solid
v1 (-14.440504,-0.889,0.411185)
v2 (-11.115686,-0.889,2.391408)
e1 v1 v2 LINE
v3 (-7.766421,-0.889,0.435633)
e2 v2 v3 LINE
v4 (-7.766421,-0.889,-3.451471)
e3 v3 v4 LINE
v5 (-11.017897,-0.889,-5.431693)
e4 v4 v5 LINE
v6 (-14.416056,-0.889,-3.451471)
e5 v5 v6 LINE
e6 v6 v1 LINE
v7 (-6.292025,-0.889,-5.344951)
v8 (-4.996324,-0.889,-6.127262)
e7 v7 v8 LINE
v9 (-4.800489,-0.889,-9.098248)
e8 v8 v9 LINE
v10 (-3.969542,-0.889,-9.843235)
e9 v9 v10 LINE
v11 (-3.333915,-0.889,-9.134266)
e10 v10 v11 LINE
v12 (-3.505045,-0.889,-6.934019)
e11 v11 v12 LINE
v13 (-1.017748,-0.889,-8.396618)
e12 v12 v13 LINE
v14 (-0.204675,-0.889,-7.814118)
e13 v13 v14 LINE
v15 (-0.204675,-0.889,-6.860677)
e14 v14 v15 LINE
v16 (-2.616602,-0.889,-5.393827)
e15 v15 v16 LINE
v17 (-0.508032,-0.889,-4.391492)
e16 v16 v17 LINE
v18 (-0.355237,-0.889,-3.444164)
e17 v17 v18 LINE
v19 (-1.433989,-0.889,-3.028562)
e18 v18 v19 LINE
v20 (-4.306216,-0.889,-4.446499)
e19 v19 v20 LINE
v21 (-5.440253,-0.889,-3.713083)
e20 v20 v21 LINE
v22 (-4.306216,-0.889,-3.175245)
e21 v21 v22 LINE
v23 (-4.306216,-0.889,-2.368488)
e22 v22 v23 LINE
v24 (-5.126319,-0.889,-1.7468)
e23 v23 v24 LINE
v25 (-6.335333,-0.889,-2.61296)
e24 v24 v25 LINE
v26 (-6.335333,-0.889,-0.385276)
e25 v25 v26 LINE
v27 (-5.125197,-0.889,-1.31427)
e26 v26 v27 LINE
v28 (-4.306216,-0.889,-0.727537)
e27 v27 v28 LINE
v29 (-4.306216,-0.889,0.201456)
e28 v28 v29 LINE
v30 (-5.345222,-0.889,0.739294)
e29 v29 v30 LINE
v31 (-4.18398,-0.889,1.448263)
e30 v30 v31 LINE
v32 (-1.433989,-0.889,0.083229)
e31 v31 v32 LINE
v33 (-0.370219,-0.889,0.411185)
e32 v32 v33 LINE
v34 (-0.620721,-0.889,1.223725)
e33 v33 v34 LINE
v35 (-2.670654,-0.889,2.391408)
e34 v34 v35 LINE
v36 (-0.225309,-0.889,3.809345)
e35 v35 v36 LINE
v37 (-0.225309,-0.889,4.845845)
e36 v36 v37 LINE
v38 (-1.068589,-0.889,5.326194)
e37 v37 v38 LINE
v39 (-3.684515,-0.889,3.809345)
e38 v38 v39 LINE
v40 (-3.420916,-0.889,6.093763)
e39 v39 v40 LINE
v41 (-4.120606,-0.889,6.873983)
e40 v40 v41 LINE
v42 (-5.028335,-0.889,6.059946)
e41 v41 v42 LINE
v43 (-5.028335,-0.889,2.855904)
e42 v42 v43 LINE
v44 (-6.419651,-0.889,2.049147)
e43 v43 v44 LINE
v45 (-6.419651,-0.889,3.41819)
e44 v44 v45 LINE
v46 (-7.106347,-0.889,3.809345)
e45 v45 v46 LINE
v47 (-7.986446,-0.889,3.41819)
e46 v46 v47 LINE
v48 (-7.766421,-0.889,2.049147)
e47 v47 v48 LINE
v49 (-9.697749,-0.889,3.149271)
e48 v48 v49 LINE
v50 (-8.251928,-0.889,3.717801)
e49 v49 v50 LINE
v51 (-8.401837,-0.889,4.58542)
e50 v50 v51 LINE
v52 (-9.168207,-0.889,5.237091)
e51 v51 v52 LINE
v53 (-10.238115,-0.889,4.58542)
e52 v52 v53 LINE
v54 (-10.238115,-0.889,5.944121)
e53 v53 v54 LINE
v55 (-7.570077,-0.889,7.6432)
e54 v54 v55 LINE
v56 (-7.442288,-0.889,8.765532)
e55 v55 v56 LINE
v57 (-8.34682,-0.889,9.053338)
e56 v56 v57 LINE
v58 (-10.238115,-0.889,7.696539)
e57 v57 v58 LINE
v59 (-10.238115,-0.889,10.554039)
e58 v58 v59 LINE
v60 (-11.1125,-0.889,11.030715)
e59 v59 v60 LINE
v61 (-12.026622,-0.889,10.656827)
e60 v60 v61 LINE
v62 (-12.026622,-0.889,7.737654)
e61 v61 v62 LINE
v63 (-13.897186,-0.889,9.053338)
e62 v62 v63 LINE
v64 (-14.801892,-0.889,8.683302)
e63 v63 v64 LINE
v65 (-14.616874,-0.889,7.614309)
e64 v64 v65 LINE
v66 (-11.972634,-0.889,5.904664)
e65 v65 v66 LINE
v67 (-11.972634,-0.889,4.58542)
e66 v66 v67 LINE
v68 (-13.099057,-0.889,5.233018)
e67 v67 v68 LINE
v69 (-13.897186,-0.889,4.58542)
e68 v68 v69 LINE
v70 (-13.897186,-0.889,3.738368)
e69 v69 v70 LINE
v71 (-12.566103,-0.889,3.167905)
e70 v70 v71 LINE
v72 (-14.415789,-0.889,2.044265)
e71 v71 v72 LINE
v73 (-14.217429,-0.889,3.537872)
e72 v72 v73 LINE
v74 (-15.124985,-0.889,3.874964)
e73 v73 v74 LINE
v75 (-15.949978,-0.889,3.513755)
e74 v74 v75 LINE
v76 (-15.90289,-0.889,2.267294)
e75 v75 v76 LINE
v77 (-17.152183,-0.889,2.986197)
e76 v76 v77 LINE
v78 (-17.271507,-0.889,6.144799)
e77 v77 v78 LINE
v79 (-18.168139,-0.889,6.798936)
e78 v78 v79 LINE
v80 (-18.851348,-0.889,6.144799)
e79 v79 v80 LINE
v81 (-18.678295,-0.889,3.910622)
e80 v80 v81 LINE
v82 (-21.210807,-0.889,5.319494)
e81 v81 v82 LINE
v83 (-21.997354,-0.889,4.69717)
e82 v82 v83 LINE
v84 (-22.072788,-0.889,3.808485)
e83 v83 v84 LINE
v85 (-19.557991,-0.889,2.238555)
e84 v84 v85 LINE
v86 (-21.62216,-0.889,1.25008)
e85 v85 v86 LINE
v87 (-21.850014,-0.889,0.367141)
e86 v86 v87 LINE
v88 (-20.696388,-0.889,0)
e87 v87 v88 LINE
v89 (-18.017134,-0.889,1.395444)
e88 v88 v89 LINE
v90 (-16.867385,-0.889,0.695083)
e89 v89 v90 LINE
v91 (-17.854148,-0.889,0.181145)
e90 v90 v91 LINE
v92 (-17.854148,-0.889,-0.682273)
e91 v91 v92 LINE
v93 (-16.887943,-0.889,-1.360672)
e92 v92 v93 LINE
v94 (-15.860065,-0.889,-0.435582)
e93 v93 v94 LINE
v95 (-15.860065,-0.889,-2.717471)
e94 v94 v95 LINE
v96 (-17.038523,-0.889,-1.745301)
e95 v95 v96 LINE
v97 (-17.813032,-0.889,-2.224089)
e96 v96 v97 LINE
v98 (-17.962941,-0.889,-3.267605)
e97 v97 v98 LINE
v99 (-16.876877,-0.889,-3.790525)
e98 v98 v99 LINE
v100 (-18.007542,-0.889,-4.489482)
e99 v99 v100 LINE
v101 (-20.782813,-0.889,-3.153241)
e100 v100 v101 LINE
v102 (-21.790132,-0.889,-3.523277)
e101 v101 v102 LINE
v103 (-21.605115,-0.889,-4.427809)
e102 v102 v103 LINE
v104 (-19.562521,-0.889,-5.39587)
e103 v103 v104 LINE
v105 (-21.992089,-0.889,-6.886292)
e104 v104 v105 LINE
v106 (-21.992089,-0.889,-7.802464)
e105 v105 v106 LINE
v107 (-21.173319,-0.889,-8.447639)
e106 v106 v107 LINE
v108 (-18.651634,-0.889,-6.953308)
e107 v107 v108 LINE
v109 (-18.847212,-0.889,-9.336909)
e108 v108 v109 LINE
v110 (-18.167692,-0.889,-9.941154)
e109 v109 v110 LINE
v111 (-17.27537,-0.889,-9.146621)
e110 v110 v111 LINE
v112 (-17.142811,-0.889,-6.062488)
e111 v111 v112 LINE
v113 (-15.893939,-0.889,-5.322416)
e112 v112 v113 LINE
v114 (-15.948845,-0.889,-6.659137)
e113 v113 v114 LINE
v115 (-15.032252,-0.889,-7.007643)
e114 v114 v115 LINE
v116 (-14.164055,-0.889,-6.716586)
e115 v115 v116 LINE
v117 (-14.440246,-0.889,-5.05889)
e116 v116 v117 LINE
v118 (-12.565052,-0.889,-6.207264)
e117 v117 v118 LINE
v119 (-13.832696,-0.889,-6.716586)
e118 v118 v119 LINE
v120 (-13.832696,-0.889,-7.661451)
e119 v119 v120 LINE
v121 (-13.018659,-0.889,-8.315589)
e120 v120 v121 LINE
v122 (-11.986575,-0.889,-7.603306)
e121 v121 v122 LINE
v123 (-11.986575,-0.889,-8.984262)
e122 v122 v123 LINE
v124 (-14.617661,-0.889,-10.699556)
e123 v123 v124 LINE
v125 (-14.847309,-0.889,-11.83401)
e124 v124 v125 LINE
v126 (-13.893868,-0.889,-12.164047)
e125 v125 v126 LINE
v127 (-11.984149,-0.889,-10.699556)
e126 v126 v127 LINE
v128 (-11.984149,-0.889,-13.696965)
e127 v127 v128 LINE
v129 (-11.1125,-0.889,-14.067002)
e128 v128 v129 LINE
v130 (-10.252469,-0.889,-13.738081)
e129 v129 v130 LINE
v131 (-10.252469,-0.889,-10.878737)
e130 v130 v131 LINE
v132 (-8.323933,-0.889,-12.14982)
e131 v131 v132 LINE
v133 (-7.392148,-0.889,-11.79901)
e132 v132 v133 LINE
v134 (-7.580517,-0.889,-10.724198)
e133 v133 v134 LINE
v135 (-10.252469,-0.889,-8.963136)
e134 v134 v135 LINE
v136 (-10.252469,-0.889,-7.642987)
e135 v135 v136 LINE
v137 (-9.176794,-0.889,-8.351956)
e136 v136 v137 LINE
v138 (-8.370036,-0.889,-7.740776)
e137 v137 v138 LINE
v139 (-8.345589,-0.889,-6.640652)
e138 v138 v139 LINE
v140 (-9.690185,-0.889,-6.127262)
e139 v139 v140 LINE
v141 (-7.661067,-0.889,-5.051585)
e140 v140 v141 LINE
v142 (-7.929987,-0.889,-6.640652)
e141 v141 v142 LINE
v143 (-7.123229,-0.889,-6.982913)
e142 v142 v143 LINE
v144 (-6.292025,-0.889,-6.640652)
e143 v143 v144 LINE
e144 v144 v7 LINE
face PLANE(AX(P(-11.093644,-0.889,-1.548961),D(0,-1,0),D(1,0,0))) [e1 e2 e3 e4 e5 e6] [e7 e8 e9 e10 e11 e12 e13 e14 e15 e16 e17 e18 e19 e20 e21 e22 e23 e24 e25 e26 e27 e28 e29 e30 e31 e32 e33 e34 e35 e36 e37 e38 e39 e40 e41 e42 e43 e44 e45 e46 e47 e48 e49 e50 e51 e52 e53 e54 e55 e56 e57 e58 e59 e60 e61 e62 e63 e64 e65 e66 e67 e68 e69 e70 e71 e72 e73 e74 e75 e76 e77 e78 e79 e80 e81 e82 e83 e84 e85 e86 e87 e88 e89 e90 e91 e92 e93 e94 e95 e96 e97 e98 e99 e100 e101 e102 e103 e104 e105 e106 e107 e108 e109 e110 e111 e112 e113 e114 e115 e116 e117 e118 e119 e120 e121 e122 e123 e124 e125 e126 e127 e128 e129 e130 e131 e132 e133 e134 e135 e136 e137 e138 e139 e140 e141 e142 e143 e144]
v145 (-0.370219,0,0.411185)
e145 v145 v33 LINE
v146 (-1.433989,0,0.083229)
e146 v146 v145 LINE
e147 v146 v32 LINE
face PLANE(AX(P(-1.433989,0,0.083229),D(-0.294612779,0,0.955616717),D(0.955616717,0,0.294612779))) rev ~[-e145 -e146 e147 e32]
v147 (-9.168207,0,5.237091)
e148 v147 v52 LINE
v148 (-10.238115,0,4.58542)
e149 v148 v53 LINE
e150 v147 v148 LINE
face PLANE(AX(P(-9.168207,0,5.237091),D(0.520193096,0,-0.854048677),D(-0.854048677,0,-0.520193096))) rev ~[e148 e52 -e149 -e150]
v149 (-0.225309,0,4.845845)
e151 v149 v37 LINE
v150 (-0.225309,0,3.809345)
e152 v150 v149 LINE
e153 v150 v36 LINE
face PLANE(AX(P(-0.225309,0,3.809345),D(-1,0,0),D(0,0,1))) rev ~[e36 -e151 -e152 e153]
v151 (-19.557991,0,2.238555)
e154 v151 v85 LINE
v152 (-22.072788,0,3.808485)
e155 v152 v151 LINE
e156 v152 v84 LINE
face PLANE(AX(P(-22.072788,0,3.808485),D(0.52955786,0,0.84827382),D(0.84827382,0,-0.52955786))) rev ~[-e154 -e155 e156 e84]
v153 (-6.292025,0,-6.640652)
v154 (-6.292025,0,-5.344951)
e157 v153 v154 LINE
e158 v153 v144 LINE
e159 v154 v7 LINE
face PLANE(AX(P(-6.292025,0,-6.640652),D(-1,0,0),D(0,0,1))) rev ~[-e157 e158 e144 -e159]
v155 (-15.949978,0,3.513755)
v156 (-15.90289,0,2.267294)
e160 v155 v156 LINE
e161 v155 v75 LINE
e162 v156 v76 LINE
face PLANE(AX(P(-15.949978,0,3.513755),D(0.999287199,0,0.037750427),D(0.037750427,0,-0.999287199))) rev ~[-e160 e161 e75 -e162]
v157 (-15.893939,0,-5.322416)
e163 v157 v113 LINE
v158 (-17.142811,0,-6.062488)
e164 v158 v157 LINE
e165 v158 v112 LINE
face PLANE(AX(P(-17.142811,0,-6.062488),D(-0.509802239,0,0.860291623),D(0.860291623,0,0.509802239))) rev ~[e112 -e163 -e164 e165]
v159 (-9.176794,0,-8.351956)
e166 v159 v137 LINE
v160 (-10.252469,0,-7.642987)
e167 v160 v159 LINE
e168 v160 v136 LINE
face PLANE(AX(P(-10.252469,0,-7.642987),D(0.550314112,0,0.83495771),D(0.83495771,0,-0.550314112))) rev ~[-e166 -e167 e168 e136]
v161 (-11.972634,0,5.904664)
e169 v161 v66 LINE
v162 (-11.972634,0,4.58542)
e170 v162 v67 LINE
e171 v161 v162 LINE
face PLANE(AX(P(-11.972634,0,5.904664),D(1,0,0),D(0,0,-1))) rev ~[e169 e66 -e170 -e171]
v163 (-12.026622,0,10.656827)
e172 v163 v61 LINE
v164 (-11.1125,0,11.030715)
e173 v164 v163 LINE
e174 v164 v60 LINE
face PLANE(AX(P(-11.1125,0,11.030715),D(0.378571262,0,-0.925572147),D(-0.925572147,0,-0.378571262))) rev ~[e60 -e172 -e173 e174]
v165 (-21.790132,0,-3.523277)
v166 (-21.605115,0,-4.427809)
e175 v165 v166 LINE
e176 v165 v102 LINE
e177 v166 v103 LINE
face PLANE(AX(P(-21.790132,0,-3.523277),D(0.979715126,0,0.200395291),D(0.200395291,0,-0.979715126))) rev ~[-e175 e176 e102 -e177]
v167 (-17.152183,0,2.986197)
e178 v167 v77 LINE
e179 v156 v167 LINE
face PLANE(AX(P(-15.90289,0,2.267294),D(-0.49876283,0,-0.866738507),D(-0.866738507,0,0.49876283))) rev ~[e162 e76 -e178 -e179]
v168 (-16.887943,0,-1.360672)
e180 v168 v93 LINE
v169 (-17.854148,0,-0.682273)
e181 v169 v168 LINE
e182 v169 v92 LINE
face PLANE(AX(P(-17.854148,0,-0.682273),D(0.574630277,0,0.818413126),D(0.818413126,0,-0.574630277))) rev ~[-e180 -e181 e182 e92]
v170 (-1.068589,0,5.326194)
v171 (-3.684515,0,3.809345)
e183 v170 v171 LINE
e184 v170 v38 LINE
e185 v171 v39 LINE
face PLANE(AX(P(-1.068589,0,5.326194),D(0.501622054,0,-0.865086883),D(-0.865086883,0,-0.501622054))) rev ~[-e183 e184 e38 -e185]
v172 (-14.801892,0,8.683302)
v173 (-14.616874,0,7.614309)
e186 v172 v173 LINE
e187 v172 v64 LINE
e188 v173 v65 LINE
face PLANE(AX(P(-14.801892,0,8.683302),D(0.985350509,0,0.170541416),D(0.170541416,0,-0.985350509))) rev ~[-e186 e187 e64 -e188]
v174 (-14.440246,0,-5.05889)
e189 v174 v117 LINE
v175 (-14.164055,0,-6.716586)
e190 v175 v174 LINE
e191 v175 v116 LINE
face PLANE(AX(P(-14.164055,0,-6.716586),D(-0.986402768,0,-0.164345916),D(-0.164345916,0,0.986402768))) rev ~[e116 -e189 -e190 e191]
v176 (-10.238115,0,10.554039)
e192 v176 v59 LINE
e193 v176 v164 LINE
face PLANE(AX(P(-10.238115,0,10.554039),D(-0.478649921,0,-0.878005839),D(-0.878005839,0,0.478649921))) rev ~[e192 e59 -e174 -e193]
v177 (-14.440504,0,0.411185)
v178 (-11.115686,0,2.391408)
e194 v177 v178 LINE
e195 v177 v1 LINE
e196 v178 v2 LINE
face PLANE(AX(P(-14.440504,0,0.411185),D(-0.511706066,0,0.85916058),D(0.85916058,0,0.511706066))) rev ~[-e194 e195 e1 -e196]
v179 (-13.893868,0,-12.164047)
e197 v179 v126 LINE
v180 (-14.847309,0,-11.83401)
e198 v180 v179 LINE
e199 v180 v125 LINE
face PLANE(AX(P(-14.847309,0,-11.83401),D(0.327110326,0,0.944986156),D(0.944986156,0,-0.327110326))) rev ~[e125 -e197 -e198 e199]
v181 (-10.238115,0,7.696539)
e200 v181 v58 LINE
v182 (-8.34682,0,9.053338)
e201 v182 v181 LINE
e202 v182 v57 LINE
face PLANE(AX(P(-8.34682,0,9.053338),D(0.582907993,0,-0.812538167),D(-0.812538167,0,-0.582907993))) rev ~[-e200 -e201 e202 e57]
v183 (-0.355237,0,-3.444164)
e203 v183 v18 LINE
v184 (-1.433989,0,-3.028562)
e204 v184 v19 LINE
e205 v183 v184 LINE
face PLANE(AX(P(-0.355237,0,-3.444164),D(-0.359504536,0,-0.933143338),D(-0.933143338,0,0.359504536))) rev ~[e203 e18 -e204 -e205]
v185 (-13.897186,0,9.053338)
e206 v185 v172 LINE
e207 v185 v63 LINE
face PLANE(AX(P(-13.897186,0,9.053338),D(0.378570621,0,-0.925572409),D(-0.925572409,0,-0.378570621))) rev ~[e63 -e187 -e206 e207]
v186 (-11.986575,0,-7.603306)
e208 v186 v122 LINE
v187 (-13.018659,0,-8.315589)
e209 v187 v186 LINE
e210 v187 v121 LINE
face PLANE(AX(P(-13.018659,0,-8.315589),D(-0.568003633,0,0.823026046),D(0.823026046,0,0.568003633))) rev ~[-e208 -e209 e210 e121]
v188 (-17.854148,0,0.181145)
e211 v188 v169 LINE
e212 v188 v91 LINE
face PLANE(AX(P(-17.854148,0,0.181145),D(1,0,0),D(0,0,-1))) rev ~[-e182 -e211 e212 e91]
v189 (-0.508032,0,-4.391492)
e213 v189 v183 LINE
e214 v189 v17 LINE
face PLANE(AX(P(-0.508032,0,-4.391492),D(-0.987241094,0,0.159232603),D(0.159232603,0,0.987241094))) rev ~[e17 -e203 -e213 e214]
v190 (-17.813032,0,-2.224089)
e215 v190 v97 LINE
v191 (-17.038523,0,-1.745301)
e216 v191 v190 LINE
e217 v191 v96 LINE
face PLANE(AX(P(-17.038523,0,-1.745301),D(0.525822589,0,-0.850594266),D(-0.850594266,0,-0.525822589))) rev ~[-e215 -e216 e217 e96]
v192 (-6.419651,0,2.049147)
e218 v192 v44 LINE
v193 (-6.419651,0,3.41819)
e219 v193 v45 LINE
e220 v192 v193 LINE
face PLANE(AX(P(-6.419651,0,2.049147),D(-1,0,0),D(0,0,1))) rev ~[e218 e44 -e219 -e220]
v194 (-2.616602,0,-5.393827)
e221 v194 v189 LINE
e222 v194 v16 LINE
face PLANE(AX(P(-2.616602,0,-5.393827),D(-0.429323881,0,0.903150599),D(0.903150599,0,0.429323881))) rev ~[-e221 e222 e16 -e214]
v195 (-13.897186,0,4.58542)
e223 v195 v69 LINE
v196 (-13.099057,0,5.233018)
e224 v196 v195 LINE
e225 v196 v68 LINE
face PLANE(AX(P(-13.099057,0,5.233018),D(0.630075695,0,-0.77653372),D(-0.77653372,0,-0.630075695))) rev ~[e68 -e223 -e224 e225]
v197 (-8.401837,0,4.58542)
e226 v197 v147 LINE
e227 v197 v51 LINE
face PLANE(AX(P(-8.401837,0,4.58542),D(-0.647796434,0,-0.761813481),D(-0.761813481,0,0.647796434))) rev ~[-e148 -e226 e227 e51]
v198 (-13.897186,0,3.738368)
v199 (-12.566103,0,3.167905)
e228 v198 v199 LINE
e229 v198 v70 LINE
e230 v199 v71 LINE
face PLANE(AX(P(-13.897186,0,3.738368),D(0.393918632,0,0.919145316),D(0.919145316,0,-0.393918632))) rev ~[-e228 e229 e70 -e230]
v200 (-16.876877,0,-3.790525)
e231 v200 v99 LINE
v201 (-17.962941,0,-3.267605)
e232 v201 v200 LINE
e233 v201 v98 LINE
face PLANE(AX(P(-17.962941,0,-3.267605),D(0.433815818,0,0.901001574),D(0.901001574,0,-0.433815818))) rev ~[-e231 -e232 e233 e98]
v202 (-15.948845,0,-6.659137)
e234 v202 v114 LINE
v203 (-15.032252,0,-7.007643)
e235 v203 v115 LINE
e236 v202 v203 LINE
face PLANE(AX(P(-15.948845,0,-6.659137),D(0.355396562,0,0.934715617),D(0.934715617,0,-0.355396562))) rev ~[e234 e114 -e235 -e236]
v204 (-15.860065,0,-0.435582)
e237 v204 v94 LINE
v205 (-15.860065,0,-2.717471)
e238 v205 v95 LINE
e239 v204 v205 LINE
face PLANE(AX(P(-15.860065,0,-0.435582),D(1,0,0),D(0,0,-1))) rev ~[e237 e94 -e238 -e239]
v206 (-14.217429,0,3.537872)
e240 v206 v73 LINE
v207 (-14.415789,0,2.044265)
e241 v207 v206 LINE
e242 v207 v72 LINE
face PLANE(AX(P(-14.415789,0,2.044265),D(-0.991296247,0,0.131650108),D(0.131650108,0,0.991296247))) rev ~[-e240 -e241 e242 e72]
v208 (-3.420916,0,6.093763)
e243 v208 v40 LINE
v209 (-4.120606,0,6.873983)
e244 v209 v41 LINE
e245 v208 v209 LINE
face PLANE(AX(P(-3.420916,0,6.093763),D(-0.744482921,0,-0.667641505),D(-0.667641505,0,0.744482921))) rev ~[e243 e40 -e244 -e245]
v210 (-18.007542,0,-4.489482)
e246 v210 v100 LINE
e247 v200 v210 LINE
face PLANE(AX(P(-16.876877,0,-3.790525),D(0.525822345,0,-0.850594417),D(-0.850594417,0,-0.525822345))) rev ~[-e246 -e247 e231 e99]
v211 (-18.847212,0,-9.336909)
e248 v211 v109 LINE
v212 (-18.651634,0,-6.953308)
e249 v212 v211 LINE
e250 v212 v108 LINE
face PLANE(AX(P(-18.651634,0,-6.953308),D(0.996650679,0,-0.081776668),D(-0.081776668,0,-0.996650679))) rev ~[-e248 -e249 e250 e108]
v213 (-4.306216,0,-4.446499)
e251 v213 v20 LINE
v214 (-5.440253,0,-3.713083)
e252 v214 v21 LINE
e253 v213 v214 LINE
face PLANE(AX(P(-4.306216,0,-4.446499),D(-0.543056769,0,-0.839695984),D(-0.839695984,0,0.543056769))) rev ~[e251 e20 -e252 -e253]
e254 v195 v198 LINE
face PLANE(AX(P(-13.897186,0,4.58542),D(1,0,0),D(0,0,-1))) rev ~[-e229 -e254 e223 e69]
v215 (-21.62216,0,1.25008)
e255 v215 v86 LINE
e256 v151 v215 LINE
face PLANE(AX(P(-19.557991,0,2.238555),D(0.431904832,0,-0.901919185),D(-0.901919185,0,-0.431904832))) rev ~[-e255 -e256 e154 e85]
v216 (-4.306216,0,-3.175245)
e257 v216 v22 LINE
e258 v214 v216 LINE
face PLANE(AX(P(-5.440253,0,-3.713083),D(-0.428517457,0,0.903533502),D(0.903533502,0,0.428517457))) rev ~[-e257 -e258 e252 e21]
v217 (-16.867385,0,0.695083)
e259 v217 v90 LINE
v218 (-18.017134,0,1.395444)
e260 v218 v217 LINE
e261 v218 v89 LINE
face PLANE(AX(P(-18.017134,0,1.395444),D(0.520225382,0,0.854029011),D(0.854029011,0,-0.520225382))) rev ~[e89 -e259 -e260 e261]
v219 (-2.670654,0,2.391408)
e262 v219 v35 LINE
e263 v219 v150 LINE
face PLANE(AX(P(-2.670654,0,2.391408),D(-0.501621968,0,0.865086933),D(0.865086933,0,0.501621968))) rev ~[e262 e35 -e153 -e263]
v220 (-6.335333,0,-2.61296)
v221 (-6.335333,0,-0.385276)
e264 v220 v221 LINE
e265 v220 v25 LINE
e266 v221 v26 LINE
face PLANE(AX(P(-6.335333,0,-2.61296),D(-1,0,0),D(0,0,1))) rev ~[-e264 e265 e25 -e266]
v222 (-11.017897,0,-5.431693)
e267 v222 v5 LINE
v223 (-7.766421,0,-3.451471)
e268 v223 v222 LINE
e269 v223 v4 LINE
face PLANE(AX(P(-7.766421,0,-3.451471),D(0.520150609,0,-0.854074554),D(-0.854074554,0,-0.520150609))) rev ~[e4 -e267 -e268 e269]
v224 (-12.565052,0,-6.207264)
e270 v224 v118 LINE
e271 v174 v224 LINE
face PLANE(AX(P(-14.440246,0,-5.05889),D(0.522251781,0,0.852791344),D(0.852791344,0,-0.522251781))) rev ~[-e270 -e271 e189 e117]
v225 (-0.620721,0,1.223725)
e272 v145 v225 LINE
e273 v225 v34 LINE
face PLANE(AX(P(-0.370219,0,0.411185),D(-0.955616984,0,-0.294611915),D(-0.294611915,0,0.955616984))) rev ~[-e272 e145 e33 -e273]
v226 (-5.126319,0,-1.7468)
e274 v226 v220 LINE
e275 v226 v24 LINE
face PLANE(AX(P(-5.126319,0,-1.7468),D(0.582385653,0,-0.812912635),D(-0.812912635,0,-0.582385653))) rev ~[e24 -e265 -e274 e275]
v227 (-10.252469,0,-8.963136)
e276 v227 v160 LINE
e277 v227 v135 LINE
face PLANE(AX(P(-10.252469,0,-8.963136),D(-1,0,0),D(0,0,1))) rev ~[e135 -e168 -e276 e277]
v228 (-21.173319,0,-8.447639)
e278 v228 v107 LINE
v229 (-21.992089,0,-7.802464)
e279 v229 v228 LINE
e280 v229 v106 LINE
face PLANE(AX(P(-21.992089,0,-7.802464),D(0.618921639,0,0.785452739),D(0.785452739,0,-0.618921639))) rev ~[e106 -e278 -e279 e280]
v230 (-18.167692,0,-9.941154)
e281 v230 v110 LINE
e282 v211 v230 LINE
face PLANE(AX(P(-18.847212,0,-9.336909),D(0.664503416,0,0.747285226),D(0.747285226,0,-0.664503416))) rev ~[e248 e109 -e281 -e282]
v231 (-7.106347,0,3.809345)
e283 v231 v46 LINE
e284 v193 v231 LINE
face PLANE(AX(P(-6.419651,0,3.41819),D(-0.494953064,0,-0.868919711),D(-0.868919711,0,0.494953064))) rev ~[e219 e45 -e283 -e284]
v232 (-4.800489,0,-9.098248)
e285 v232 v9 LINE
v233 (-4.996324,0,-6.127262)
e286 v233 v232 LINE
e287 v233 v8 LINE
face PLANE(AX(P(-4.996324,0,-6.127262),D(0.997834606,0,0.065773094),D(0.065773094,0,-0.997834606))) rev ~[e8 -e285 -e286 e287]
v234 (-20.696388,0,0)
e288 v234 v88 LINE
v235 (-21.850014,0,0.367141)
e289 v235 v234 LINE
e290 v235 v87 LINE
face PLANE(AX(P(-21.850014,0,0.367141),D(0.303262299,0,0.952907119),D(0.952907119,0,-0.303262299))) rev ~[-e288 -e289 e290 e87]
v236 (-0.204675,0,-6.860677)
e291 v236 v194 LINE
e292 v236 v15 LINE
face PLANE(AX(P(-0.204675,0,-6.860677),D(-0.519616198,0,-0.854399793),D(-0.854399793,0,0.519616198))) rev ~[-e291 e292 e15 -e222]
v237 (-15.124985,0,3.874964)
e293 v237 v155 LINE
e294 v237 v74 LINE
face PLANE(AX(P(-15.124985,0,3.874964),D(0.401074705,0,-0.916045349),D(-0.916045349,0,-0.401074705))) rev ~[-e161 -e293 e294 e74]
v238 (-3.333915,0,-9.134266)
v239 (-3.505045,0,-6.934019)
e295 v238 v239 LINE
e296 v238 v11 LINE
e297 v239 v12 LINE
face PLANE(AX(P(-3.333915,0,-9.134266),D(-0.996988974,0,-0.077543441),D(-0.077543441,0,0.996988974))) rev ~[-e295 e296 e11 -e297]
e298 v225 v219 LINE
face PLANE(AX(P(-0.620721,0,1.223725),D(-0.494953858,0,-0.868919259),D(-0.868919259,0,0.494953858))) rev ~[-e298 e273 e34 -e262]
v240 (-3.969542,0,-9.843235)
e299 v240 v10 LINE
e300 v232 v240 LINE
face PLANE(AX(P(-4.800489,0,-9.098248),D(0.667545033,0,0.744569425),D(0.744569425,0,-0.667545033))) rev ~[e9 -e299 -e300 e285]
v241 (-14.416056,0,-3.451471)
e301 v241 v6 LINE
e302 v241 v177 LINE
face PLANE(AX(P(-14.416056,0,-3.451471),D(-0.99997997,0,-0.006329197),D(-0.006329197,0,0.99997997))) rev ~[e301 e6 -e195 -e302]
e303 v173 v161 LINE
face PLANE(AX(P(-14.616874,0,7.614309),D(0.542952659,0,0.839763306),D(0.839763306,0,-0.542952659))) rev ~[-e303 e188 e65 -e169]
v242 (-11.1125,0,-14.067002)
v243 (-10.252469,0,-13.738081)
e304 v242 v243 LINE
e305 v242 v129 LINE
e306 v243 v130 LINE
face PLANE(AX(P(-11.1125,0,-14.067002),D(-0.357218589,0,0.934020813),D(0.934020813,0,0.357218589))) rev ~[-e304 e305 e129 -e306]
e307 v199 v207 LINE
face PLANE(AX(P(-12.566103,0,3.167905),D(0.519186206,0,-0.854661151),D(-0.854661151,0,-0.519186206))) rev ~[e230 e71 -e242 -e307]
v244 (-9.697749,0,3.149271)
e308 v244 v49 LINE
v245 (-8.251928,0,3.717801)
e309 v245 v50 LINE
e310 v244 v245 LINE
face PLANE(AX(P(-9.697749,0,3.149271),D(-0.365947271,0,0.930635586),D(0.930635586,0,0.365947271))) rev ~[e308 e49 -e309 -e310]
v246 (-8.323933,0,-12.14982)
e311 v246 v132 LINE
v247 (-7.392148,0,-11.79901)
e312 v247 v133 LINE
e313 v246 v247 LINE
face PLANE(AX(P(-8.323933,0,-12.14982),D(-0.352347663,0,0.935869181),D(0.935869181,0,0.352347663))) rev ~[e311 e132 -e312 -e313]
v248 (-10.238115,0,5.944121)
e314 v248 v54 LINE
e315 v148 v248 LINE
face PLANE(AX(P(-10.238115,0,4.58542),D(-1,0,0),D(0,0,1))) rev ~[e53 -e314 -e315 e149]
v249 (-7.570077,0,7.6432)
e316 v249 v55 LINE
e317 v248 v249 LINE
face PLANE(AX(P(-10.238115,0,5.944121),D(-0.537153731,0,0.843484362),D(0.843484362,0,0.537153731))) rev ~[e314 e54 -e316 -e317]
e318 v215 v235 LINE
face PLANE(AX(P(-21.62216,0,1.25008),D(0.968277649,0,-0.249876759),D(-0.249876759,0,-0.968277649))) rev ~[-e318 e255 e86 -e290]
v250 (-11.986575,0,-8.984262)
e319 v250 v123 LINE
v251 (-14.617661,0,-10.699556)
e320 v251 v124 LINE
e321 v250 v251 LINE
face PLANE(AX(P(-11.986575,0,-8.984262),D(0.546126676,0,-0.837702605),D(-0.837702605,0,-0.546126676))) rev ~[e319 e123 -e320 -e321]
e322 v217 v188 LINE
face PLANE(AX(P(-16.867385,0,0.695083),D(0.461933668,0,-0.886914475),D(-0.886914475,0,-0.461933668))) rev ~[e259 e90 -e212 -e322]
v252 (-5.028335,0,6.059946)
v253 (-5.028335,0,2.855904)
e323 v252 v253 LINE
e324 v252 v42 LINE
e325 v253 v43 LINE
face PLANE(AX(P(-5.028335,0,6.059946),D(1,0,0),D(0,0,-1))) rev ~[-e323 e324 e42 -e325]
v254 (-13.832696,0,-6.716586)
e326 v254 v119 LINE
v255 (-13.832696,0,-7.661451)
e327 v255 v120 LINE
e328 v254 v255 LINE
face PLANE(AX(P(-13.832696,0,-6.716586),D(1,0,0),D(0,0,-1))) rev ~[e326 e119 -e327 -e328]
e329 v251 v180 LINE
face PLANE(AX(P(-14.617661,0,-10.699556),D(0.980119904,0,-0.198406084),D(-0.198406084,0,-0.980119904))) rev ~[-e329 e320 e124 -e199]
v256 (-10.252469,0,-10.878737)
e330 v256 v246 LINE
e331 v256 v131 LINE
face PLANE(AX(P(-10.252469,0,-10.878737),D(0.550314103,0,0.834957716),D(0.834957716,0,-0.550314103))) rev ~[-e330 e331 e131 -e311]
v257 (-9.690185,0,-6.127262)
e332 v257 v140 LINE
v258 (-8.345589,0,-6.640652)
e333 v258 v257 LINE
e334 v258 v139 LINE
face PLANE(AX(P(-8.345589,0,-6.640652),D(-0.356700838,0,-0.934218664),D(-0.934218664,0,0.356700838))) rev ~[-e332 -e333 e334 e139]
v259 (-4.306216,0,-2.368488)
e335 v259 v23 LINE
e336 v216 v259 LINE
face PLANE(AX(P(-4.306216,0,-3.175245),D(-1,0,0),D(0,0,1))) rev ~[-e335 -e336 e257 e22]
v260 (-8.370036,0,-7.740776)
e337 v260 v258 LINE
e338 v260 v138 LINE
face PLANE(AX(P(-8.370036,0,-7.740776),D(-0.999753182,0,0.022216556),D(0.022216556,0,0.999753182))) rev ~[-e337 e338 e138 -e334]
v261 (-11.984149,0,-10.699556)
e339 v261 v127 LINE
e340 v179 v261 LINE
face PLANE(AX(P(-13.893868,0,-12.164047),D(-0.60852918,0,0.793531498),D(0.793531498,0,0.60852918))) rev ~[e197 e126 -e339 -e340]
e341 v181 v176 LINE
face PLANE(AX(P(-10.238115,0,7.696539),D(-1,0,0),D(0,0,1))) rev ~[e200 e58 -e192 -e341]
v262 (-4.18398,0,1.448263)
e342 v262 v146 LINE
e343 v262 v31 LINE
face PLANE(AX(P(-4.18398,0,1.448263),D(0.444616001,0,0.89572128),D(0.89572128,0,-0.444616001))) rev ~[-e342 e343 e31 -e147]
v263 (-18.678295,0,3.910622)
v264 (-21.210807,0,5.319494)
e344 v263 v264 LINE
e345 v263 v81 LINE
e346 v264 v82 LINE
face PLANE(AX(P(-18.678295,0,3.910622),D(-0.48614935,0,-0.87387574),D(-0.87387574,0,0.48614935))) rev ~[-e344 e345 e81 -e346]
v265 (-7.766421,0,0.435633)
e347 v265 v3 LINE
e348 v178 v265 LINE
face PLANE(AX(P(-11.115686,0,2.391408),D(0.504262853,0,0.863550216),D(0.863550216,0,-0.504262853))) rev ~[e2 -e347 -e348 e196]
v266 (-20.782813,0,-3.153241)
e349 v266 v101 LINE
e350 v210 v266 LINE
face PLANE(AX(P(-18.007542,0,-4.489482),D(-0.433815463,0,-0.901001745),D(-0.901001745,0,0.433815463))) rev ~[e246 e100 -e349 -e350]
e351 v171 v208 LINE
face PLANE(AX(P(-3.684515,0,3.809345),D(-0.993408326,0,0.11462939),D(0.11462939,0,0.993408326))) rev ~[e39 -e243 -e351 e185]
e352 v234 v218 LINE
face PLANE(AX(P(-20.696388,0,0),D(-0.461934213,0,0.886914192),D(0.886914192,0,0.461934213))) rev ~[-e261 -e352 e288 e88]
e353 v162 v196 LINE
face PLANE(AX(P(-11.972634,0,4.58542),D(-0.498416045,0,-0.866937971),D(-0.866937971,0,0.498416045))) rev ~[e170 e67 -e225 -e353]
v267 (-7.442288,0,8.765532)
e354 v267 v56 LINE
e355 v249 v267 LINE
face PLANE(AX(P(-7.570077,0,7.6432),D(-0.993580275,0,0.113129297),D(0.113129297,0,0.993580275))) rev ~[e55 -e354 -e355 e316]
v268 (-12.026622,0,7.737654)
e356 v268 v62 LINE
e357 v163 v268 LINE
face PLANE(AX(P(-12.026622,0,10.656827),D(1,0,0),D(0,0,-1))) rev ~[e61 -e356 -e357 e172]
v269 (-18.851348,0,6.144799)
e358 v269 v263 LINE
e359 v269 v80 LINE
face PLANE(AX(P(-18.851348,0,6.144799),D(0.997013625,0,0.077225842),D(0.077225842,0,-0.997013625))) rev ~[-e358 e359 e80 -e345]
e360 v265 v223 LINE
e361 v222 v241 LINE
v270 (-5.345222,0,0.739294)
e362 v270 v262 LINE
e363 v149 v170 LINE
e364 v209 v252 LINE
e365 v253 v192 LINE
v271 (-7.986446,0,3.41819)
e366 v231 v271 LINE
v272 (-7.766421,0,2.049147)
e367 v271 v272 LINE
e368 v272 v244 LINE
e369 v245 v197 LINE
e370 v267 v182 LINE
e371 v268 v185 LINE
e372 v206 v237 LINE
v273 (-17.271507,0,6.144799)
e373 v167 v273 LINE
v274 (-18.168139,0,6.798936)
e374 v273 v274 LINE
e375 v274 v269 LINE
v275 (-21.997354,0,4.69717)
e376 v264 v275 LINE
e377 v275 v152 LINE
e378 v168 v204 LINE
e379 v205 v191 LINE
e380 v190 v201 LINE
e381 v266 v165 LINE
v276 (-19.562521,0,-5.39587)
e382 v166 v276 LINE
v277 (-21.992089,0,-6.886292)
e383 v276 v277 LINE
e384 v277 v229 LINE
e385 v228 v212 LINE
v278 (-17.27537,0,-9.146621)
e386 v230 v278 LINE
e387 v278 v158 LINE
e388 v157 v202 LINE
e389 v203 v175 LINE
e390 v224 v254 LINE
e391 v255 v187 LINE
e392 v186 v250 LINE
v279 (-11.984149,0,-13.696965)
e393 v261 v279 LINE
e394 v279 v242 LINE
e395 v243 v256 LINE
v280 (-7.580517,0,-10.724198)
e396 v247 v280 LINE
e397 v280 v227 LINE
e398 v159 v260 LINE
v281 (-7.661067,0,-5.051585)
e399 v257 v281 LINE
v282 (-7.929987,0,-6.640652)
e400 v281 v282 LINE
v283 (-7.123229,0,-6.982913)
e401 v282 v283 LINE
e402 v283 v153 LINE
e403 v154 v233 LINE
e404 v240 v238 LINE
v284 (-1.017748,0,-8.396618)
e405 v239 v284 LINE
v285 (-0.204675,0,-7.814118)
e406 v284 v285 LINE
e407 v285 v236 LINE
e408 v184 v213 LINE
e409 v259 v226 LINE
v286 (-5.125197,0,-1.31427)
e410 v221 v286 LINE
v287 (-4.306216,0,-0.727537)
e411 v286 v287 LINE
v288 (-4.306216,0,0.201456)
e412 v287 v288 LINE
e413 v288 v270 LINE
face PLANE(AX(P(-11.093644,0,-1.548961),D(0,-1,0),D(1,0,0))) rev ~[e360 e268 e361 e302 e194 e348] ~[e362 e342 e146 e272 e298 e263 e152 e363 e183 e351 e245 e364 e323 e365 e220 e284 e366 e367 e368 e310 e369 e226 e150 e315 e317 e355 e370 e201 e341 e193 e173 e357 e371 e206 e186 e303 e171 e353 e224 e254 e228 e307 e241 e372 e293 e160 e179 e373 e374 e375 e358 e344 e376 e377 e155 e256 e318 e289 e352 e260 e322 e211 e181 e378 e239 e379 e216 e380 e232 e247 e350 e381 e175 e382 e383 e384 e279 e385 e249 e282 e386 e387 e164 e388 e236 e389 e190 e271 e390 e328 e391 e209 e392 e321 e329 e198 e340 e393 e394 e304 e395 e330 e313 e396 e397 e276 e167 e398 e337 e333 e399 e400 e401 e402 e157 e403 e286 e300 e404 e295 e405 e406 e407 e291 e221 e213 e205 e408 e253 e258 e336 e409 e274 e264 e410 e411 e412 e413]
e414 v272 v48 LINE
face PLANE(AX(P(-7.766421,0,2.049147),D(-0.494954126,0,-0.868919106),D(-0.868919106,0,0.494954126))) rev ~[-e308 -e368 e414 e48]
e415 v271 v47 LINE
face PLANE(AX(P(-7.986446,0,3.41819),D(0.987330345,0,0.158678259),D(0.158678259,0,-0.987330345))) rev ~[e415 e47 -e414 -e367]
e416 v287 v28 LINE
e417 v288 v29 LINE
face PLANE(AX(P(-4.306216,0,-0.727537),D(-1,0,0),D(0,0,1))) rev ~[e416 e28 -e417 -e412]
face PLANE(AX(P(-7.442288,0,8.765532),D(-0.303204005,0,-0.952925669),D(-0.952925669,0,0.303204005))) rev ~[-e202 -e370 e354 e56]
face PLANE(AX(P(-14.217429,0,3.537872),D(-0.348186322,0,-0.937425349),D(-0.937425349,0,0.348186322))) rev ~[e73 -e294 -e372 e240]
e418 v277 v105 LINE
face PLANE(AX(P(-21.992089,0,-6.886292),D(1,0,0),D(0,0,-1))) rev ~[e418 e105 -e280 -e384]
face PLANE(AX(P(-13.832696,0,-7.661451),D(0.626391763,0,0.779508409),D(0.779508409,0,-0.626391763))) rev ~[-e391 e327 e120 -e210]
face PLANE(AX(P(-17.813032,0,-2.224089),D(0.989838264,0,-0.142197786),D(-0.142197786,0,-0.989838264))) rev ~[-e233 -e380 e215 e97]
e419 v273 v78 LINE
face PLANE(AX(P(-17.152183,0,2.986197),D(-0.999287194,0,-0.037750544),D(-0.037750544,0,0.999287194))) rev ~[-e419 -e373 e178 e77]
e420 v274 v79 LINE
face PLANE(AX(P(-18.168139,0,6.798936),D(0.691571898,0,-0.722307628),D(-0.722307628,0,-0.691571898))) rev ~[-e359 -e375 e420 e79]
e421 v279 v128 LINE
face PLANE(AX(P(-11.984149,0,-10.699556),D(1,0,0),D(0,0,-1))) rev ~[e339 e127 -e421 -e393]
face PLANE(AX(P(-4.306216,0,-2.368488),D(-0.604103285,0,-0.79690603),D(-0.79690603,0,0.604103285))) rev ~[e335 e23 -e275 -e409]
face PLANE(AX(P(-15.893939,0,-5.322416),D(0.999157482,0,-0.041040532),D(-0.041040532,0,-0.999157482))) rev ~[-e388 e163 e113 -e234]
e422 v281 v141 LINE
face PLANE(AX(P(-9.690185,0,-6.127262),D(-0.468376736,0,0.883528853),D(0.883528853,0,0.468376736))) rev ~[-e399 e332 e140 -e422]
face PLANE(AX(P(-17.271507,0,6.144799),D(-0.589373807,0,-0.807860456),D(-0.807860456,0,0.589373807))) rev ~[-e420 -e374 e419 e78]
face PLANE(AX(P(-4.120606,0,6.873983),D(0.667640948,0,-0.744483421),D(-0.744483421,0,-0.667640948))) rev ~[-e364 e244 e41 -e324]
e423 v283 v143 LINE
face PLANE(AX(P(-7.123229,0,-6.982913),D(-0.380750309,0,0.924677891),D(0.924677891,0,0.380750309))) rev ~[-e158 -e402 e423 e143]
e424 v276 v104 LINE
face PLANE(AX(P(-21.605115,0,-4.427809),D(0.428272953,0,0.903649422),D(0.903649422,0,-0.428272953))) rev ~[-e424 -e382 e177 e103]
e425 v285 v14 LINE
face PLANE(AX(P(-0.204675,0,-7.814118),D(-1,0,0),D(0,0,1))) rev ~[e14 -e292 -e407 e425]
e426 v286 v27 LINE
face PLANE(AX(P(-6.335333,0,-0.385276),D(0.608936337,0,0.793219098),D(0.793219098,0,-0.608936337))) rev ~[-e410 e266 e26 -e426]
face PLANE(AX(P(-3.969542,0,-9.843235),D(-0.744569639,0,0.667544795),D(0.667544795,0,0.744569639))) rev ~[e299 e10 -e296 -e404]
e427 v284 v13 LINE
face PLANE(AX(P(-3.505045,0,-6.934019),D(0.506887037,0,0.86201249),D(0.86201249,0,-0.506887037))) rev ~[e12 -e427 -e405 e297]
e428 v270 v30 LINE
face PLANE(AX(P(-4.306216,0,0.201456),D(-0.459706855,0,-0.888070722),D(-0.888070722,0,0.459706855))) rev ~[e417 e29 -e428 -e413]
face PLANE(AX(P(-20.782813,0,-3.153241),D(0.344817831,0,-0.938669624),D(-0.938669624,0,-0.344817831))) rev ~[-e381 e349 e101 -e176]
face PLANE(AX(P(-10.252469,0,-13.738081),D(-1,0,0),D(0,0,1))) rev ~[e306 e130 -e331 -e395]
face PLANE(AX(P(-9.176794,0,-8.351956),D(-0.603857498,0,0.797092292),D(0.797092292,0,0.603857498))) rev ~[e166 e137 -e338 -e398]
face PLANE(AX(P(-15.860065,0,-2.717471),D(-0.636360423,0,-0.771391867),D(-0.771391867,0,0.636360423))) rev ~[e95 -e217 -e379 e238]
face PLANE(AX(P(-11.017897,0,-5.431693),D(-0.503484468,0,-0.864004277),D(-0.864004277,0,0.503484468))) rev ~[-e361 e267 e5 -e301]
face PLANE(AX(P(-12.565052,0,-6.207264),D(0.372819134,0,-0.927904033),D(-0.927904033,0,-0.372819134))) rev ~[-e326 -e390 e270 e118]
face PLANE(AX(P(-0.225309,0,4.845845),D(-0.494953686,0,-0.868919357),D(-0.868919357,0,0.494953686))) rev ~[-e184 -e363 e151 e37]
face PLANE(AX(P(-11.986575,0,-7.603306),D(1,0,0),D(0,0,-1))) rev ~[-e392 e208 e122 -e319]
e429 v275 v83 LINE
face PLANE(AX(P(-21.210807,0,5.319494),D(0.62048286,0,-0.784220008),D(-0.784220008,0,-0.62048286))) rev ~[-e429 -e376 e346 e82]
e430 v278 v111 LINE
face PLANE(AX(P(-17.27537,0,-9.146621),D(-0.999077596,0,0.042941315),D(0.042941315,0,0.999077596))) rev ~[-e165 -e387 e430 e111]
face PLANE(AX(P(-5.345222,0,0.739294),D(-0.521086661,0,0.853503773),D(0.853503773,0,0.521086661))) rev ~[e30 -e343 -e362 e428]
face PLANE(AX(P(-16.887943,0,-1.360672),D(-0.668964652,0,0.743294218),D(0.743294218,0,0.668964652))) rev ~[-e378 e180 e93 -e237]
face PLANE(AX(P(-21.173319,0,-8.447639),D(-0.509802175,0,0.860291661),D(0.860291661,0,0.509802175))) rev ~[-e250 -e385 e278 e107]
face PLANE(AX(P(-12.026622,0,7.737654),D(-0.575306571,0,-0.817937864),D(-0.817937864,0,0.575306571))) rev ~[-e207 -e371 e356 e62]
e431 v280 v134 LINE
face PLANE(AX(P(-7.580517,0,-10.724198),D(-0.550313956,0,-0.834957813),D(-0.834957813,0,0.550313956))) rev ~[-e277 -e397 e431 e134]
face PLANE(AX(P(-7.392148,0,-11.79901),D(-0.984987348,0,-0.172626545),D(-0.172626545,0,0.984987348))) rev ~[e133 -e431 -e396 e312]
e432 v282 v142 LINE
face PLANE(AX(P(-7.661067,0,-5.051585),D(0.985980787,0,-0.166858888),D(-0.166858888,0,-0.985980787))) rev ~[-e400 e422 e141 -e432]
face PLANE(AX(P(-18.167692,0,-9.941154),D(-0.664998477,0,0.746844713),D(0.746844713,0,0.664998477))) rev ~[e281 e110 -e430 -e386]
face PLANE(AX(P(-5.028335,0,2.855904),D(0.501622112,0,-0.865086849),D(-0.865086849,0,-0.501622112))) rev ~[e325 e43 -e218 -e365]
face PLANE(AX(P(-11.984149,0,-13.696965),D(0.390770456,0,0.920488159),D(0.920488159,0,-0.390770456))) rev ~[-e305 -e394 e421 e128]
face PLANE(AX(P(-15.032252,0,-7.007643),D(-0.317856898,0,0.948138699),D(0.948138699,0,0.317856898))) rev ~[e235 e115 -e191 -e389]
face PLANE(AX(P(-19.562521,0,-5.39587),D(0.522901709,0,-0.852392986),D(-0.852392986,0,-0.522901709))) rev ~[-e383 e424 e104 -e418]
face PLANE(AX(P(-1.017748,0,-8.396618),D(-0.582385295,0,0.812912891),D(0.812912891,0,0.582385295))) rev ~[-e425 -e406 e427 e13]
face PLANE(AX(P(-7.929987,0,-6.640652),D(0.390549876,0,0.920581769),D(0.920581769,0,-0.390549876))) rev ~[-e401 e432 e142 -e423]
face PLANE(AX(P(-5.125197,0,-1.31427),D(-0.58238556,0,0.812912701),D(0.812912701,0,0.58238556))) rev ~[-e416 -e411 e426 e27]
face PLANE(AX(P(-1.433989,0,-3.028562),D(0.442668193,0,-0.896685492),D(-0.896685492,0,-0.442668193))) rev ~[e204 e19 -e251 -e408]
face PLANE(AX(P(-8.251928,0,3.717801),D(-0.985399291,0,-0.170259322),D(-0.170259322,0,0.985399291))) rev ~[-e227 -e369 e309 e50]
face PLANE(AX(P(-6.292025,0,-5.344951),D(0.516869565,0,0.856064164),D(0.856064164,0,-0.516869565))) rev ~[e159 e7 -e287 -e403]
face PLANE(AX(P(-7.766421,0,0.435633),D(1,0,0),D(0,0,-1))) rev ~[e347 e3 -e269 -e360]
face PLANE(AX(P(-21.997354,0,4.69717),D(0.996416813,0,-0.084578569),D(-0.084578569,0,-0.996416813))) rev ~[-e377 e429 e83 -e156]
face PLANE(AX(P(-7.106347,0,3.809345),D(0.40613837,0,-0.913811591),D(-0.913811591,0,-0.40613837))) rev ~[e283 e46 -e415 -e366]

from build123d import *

# Parameters (mm, degrees)
F1_DEPTH = 0.889


with BuildPart() as f1:
    # F0 (on Front) → F1 (new body)
    with BuildSketch(Plane.XZ):
        Polygon((-7.766421, 2.049147), (-9.697749, 3.149271), (-8.251928, 3.717801), (-8.401837, 4.58542), (-9.168207, 5.237091), (-10.238115, 4.58542), (-10.238115, 5.944121), (-7.570077, 7.6432), (-7.442288, 8.765532), (-8.34682, 9.053338), (-10.238115, 7.696539), (-10.238115, 10.554039), (-11.1125, 11.030715), (-12.026622, 10.656827), (-12.026622, 7.737654), (-13.897186, 9.053338), (-14.801892, 8.683302), (-14.616874, 7.614309), (-11.972634, 5.904664), (-11.972634, 4.58542), (-13.099057, 5.233018), (-13.897186, 4.58542), (-13.897186, 3.738368), (-12.566103, 3.167905), (-14.415789, 2.044265), (-14.217429, 3.537872), (-15.124985, 3.874964), (-15.949978, 3.513755), (-15.90289, 2.267294), (-17.152183, 2.986197), (-17.271507, 6.144799), (-18.168139, 6.798936), (-18.851348, 6.144799), (-18.678295, 3.910622), (-21.210807, 5.319494), (-21.997354, 4.69717), (-22.072788, 3.808485), (-19.557991, 2.238555), (-21.62216, 1.25008), (-21.850014, 0.367141), (-20.696388, 0), (-18.017134, 1.395444), (-16.867385, 0.695083), (-17.854148, 0.181145), (-17.854148, -0.682273), (-16.887943, -1.360672), (-15.860065, -0.435582), (-15.860065, -2.717471), (-17.038523, -1.745301), (-17.813032, -2.224089), (-17.962941, -3.267605), (-16.876877, -3.790525), (-18.007542, -4.489482), (-20.782813, -3.153241), (-21.790132, -3.523277), (-21.605115, -4.427809), (-19.562521, -5.39587), (-21.992089, -6.886292), (-21.992089, -7.802464), (-21.173319, -8.447639), (-18.651634, -6.953308), (-18.847212, -9.336909), (-18.167692, -9.941154), (-17.27537, -9.146621), (-17.142811, -6.062488), (-15.893939, -5.322416), (-15.948845, -6.659137), (-15.032252, -7.007643), (-14.164055, -6.716586), (-14.440246, -5.05889), (-12.565052, -6.207264), (-13.832696, -6.716586), (-13.832696, -7.661451), (-13.018659, -8.315589), (-11.986575, -7.603306), (-11.986575, -8.984262), (-14.617661, -10.699556), (-14.847309, -11.83401), (-13.893868, -12.164047), (-11.984149, -10.699556), (-11.984149, -13.696965), (-11.1125, -14.067002), (-10.252469, -13.738081), (-10.252469, -10.878737), (-8.323933, -12.14982), (-7.392148, -11.79901), (-7.580517, -10.724198), (-10.252469, -8.963136), (-10.252469, -7.642987), (-9.176794, -8.351956), (-8.370036, -7.740776), (-8.345589, -6.640652), (-9.690185, -6.127262), (-7.661067, -5.051585), (-7.929987, -6.640652), (-7.123229, -6.982913), (-6.292025, -6.640652), (-6.292025, -5.344951), (-4.996324, -6.127262), (-4.800489, -9.098248), (-3.969542, -9.843235), (-3.333915, -9.134266), (-3.505045, -6.934019), (-1.017748, -8.396618), (-0.204675, -7.814118), (-0.204675, -6.860677), (-2.616602, -5.393827), (-0.508032, -4.391492), (-0.355237, -3.444164), (-1.433989, -3.028562), (-4.306216, -4.446499), (-5.440253, -3.713083), (-4.306216, -3.175245), (-4.306216, -2.368488), (-5.126319, -1.7468), (-6.335333, -2.61296), (-6.335333, -0.385276), (-5.125197, -1.31427), (-4.306216, -0.727537), (-4.306216, 0.201456), (-5.345222, 0.739294), (-4.18398, 1.448263), (-1.433989, 0.083229), (-0.370219, 0.411185), (-0.620721, 1.223725), (-2.670654, 2.391408), (-0.225309, 3.809345), (-0.225309, 4.845845), (-1.068589, 5.326194), (-3.684515, 3.809345), (-3.420916, 6.093763), (-4.120606, 6.873983), (-5.028335, 6.059946), (-5.028335, 2.855904), (-6.419651, 2.049147), (-6.419651, 3.41819), (-7.106347, 3.809345), (-7.986446, 3.41819), align=None)
        Polygon((-14.416056, -3.451471), (-14.440504, 0.411185), (-11.115686, 2.391408), (-7.766421, 0.435633), (-7.766421, -3.451471), (-11.017897, -5.431693), align=None, mode=Mode.SUBTRACT)
    extrude(amount=F1_DEPTH)


solid = f1.part
